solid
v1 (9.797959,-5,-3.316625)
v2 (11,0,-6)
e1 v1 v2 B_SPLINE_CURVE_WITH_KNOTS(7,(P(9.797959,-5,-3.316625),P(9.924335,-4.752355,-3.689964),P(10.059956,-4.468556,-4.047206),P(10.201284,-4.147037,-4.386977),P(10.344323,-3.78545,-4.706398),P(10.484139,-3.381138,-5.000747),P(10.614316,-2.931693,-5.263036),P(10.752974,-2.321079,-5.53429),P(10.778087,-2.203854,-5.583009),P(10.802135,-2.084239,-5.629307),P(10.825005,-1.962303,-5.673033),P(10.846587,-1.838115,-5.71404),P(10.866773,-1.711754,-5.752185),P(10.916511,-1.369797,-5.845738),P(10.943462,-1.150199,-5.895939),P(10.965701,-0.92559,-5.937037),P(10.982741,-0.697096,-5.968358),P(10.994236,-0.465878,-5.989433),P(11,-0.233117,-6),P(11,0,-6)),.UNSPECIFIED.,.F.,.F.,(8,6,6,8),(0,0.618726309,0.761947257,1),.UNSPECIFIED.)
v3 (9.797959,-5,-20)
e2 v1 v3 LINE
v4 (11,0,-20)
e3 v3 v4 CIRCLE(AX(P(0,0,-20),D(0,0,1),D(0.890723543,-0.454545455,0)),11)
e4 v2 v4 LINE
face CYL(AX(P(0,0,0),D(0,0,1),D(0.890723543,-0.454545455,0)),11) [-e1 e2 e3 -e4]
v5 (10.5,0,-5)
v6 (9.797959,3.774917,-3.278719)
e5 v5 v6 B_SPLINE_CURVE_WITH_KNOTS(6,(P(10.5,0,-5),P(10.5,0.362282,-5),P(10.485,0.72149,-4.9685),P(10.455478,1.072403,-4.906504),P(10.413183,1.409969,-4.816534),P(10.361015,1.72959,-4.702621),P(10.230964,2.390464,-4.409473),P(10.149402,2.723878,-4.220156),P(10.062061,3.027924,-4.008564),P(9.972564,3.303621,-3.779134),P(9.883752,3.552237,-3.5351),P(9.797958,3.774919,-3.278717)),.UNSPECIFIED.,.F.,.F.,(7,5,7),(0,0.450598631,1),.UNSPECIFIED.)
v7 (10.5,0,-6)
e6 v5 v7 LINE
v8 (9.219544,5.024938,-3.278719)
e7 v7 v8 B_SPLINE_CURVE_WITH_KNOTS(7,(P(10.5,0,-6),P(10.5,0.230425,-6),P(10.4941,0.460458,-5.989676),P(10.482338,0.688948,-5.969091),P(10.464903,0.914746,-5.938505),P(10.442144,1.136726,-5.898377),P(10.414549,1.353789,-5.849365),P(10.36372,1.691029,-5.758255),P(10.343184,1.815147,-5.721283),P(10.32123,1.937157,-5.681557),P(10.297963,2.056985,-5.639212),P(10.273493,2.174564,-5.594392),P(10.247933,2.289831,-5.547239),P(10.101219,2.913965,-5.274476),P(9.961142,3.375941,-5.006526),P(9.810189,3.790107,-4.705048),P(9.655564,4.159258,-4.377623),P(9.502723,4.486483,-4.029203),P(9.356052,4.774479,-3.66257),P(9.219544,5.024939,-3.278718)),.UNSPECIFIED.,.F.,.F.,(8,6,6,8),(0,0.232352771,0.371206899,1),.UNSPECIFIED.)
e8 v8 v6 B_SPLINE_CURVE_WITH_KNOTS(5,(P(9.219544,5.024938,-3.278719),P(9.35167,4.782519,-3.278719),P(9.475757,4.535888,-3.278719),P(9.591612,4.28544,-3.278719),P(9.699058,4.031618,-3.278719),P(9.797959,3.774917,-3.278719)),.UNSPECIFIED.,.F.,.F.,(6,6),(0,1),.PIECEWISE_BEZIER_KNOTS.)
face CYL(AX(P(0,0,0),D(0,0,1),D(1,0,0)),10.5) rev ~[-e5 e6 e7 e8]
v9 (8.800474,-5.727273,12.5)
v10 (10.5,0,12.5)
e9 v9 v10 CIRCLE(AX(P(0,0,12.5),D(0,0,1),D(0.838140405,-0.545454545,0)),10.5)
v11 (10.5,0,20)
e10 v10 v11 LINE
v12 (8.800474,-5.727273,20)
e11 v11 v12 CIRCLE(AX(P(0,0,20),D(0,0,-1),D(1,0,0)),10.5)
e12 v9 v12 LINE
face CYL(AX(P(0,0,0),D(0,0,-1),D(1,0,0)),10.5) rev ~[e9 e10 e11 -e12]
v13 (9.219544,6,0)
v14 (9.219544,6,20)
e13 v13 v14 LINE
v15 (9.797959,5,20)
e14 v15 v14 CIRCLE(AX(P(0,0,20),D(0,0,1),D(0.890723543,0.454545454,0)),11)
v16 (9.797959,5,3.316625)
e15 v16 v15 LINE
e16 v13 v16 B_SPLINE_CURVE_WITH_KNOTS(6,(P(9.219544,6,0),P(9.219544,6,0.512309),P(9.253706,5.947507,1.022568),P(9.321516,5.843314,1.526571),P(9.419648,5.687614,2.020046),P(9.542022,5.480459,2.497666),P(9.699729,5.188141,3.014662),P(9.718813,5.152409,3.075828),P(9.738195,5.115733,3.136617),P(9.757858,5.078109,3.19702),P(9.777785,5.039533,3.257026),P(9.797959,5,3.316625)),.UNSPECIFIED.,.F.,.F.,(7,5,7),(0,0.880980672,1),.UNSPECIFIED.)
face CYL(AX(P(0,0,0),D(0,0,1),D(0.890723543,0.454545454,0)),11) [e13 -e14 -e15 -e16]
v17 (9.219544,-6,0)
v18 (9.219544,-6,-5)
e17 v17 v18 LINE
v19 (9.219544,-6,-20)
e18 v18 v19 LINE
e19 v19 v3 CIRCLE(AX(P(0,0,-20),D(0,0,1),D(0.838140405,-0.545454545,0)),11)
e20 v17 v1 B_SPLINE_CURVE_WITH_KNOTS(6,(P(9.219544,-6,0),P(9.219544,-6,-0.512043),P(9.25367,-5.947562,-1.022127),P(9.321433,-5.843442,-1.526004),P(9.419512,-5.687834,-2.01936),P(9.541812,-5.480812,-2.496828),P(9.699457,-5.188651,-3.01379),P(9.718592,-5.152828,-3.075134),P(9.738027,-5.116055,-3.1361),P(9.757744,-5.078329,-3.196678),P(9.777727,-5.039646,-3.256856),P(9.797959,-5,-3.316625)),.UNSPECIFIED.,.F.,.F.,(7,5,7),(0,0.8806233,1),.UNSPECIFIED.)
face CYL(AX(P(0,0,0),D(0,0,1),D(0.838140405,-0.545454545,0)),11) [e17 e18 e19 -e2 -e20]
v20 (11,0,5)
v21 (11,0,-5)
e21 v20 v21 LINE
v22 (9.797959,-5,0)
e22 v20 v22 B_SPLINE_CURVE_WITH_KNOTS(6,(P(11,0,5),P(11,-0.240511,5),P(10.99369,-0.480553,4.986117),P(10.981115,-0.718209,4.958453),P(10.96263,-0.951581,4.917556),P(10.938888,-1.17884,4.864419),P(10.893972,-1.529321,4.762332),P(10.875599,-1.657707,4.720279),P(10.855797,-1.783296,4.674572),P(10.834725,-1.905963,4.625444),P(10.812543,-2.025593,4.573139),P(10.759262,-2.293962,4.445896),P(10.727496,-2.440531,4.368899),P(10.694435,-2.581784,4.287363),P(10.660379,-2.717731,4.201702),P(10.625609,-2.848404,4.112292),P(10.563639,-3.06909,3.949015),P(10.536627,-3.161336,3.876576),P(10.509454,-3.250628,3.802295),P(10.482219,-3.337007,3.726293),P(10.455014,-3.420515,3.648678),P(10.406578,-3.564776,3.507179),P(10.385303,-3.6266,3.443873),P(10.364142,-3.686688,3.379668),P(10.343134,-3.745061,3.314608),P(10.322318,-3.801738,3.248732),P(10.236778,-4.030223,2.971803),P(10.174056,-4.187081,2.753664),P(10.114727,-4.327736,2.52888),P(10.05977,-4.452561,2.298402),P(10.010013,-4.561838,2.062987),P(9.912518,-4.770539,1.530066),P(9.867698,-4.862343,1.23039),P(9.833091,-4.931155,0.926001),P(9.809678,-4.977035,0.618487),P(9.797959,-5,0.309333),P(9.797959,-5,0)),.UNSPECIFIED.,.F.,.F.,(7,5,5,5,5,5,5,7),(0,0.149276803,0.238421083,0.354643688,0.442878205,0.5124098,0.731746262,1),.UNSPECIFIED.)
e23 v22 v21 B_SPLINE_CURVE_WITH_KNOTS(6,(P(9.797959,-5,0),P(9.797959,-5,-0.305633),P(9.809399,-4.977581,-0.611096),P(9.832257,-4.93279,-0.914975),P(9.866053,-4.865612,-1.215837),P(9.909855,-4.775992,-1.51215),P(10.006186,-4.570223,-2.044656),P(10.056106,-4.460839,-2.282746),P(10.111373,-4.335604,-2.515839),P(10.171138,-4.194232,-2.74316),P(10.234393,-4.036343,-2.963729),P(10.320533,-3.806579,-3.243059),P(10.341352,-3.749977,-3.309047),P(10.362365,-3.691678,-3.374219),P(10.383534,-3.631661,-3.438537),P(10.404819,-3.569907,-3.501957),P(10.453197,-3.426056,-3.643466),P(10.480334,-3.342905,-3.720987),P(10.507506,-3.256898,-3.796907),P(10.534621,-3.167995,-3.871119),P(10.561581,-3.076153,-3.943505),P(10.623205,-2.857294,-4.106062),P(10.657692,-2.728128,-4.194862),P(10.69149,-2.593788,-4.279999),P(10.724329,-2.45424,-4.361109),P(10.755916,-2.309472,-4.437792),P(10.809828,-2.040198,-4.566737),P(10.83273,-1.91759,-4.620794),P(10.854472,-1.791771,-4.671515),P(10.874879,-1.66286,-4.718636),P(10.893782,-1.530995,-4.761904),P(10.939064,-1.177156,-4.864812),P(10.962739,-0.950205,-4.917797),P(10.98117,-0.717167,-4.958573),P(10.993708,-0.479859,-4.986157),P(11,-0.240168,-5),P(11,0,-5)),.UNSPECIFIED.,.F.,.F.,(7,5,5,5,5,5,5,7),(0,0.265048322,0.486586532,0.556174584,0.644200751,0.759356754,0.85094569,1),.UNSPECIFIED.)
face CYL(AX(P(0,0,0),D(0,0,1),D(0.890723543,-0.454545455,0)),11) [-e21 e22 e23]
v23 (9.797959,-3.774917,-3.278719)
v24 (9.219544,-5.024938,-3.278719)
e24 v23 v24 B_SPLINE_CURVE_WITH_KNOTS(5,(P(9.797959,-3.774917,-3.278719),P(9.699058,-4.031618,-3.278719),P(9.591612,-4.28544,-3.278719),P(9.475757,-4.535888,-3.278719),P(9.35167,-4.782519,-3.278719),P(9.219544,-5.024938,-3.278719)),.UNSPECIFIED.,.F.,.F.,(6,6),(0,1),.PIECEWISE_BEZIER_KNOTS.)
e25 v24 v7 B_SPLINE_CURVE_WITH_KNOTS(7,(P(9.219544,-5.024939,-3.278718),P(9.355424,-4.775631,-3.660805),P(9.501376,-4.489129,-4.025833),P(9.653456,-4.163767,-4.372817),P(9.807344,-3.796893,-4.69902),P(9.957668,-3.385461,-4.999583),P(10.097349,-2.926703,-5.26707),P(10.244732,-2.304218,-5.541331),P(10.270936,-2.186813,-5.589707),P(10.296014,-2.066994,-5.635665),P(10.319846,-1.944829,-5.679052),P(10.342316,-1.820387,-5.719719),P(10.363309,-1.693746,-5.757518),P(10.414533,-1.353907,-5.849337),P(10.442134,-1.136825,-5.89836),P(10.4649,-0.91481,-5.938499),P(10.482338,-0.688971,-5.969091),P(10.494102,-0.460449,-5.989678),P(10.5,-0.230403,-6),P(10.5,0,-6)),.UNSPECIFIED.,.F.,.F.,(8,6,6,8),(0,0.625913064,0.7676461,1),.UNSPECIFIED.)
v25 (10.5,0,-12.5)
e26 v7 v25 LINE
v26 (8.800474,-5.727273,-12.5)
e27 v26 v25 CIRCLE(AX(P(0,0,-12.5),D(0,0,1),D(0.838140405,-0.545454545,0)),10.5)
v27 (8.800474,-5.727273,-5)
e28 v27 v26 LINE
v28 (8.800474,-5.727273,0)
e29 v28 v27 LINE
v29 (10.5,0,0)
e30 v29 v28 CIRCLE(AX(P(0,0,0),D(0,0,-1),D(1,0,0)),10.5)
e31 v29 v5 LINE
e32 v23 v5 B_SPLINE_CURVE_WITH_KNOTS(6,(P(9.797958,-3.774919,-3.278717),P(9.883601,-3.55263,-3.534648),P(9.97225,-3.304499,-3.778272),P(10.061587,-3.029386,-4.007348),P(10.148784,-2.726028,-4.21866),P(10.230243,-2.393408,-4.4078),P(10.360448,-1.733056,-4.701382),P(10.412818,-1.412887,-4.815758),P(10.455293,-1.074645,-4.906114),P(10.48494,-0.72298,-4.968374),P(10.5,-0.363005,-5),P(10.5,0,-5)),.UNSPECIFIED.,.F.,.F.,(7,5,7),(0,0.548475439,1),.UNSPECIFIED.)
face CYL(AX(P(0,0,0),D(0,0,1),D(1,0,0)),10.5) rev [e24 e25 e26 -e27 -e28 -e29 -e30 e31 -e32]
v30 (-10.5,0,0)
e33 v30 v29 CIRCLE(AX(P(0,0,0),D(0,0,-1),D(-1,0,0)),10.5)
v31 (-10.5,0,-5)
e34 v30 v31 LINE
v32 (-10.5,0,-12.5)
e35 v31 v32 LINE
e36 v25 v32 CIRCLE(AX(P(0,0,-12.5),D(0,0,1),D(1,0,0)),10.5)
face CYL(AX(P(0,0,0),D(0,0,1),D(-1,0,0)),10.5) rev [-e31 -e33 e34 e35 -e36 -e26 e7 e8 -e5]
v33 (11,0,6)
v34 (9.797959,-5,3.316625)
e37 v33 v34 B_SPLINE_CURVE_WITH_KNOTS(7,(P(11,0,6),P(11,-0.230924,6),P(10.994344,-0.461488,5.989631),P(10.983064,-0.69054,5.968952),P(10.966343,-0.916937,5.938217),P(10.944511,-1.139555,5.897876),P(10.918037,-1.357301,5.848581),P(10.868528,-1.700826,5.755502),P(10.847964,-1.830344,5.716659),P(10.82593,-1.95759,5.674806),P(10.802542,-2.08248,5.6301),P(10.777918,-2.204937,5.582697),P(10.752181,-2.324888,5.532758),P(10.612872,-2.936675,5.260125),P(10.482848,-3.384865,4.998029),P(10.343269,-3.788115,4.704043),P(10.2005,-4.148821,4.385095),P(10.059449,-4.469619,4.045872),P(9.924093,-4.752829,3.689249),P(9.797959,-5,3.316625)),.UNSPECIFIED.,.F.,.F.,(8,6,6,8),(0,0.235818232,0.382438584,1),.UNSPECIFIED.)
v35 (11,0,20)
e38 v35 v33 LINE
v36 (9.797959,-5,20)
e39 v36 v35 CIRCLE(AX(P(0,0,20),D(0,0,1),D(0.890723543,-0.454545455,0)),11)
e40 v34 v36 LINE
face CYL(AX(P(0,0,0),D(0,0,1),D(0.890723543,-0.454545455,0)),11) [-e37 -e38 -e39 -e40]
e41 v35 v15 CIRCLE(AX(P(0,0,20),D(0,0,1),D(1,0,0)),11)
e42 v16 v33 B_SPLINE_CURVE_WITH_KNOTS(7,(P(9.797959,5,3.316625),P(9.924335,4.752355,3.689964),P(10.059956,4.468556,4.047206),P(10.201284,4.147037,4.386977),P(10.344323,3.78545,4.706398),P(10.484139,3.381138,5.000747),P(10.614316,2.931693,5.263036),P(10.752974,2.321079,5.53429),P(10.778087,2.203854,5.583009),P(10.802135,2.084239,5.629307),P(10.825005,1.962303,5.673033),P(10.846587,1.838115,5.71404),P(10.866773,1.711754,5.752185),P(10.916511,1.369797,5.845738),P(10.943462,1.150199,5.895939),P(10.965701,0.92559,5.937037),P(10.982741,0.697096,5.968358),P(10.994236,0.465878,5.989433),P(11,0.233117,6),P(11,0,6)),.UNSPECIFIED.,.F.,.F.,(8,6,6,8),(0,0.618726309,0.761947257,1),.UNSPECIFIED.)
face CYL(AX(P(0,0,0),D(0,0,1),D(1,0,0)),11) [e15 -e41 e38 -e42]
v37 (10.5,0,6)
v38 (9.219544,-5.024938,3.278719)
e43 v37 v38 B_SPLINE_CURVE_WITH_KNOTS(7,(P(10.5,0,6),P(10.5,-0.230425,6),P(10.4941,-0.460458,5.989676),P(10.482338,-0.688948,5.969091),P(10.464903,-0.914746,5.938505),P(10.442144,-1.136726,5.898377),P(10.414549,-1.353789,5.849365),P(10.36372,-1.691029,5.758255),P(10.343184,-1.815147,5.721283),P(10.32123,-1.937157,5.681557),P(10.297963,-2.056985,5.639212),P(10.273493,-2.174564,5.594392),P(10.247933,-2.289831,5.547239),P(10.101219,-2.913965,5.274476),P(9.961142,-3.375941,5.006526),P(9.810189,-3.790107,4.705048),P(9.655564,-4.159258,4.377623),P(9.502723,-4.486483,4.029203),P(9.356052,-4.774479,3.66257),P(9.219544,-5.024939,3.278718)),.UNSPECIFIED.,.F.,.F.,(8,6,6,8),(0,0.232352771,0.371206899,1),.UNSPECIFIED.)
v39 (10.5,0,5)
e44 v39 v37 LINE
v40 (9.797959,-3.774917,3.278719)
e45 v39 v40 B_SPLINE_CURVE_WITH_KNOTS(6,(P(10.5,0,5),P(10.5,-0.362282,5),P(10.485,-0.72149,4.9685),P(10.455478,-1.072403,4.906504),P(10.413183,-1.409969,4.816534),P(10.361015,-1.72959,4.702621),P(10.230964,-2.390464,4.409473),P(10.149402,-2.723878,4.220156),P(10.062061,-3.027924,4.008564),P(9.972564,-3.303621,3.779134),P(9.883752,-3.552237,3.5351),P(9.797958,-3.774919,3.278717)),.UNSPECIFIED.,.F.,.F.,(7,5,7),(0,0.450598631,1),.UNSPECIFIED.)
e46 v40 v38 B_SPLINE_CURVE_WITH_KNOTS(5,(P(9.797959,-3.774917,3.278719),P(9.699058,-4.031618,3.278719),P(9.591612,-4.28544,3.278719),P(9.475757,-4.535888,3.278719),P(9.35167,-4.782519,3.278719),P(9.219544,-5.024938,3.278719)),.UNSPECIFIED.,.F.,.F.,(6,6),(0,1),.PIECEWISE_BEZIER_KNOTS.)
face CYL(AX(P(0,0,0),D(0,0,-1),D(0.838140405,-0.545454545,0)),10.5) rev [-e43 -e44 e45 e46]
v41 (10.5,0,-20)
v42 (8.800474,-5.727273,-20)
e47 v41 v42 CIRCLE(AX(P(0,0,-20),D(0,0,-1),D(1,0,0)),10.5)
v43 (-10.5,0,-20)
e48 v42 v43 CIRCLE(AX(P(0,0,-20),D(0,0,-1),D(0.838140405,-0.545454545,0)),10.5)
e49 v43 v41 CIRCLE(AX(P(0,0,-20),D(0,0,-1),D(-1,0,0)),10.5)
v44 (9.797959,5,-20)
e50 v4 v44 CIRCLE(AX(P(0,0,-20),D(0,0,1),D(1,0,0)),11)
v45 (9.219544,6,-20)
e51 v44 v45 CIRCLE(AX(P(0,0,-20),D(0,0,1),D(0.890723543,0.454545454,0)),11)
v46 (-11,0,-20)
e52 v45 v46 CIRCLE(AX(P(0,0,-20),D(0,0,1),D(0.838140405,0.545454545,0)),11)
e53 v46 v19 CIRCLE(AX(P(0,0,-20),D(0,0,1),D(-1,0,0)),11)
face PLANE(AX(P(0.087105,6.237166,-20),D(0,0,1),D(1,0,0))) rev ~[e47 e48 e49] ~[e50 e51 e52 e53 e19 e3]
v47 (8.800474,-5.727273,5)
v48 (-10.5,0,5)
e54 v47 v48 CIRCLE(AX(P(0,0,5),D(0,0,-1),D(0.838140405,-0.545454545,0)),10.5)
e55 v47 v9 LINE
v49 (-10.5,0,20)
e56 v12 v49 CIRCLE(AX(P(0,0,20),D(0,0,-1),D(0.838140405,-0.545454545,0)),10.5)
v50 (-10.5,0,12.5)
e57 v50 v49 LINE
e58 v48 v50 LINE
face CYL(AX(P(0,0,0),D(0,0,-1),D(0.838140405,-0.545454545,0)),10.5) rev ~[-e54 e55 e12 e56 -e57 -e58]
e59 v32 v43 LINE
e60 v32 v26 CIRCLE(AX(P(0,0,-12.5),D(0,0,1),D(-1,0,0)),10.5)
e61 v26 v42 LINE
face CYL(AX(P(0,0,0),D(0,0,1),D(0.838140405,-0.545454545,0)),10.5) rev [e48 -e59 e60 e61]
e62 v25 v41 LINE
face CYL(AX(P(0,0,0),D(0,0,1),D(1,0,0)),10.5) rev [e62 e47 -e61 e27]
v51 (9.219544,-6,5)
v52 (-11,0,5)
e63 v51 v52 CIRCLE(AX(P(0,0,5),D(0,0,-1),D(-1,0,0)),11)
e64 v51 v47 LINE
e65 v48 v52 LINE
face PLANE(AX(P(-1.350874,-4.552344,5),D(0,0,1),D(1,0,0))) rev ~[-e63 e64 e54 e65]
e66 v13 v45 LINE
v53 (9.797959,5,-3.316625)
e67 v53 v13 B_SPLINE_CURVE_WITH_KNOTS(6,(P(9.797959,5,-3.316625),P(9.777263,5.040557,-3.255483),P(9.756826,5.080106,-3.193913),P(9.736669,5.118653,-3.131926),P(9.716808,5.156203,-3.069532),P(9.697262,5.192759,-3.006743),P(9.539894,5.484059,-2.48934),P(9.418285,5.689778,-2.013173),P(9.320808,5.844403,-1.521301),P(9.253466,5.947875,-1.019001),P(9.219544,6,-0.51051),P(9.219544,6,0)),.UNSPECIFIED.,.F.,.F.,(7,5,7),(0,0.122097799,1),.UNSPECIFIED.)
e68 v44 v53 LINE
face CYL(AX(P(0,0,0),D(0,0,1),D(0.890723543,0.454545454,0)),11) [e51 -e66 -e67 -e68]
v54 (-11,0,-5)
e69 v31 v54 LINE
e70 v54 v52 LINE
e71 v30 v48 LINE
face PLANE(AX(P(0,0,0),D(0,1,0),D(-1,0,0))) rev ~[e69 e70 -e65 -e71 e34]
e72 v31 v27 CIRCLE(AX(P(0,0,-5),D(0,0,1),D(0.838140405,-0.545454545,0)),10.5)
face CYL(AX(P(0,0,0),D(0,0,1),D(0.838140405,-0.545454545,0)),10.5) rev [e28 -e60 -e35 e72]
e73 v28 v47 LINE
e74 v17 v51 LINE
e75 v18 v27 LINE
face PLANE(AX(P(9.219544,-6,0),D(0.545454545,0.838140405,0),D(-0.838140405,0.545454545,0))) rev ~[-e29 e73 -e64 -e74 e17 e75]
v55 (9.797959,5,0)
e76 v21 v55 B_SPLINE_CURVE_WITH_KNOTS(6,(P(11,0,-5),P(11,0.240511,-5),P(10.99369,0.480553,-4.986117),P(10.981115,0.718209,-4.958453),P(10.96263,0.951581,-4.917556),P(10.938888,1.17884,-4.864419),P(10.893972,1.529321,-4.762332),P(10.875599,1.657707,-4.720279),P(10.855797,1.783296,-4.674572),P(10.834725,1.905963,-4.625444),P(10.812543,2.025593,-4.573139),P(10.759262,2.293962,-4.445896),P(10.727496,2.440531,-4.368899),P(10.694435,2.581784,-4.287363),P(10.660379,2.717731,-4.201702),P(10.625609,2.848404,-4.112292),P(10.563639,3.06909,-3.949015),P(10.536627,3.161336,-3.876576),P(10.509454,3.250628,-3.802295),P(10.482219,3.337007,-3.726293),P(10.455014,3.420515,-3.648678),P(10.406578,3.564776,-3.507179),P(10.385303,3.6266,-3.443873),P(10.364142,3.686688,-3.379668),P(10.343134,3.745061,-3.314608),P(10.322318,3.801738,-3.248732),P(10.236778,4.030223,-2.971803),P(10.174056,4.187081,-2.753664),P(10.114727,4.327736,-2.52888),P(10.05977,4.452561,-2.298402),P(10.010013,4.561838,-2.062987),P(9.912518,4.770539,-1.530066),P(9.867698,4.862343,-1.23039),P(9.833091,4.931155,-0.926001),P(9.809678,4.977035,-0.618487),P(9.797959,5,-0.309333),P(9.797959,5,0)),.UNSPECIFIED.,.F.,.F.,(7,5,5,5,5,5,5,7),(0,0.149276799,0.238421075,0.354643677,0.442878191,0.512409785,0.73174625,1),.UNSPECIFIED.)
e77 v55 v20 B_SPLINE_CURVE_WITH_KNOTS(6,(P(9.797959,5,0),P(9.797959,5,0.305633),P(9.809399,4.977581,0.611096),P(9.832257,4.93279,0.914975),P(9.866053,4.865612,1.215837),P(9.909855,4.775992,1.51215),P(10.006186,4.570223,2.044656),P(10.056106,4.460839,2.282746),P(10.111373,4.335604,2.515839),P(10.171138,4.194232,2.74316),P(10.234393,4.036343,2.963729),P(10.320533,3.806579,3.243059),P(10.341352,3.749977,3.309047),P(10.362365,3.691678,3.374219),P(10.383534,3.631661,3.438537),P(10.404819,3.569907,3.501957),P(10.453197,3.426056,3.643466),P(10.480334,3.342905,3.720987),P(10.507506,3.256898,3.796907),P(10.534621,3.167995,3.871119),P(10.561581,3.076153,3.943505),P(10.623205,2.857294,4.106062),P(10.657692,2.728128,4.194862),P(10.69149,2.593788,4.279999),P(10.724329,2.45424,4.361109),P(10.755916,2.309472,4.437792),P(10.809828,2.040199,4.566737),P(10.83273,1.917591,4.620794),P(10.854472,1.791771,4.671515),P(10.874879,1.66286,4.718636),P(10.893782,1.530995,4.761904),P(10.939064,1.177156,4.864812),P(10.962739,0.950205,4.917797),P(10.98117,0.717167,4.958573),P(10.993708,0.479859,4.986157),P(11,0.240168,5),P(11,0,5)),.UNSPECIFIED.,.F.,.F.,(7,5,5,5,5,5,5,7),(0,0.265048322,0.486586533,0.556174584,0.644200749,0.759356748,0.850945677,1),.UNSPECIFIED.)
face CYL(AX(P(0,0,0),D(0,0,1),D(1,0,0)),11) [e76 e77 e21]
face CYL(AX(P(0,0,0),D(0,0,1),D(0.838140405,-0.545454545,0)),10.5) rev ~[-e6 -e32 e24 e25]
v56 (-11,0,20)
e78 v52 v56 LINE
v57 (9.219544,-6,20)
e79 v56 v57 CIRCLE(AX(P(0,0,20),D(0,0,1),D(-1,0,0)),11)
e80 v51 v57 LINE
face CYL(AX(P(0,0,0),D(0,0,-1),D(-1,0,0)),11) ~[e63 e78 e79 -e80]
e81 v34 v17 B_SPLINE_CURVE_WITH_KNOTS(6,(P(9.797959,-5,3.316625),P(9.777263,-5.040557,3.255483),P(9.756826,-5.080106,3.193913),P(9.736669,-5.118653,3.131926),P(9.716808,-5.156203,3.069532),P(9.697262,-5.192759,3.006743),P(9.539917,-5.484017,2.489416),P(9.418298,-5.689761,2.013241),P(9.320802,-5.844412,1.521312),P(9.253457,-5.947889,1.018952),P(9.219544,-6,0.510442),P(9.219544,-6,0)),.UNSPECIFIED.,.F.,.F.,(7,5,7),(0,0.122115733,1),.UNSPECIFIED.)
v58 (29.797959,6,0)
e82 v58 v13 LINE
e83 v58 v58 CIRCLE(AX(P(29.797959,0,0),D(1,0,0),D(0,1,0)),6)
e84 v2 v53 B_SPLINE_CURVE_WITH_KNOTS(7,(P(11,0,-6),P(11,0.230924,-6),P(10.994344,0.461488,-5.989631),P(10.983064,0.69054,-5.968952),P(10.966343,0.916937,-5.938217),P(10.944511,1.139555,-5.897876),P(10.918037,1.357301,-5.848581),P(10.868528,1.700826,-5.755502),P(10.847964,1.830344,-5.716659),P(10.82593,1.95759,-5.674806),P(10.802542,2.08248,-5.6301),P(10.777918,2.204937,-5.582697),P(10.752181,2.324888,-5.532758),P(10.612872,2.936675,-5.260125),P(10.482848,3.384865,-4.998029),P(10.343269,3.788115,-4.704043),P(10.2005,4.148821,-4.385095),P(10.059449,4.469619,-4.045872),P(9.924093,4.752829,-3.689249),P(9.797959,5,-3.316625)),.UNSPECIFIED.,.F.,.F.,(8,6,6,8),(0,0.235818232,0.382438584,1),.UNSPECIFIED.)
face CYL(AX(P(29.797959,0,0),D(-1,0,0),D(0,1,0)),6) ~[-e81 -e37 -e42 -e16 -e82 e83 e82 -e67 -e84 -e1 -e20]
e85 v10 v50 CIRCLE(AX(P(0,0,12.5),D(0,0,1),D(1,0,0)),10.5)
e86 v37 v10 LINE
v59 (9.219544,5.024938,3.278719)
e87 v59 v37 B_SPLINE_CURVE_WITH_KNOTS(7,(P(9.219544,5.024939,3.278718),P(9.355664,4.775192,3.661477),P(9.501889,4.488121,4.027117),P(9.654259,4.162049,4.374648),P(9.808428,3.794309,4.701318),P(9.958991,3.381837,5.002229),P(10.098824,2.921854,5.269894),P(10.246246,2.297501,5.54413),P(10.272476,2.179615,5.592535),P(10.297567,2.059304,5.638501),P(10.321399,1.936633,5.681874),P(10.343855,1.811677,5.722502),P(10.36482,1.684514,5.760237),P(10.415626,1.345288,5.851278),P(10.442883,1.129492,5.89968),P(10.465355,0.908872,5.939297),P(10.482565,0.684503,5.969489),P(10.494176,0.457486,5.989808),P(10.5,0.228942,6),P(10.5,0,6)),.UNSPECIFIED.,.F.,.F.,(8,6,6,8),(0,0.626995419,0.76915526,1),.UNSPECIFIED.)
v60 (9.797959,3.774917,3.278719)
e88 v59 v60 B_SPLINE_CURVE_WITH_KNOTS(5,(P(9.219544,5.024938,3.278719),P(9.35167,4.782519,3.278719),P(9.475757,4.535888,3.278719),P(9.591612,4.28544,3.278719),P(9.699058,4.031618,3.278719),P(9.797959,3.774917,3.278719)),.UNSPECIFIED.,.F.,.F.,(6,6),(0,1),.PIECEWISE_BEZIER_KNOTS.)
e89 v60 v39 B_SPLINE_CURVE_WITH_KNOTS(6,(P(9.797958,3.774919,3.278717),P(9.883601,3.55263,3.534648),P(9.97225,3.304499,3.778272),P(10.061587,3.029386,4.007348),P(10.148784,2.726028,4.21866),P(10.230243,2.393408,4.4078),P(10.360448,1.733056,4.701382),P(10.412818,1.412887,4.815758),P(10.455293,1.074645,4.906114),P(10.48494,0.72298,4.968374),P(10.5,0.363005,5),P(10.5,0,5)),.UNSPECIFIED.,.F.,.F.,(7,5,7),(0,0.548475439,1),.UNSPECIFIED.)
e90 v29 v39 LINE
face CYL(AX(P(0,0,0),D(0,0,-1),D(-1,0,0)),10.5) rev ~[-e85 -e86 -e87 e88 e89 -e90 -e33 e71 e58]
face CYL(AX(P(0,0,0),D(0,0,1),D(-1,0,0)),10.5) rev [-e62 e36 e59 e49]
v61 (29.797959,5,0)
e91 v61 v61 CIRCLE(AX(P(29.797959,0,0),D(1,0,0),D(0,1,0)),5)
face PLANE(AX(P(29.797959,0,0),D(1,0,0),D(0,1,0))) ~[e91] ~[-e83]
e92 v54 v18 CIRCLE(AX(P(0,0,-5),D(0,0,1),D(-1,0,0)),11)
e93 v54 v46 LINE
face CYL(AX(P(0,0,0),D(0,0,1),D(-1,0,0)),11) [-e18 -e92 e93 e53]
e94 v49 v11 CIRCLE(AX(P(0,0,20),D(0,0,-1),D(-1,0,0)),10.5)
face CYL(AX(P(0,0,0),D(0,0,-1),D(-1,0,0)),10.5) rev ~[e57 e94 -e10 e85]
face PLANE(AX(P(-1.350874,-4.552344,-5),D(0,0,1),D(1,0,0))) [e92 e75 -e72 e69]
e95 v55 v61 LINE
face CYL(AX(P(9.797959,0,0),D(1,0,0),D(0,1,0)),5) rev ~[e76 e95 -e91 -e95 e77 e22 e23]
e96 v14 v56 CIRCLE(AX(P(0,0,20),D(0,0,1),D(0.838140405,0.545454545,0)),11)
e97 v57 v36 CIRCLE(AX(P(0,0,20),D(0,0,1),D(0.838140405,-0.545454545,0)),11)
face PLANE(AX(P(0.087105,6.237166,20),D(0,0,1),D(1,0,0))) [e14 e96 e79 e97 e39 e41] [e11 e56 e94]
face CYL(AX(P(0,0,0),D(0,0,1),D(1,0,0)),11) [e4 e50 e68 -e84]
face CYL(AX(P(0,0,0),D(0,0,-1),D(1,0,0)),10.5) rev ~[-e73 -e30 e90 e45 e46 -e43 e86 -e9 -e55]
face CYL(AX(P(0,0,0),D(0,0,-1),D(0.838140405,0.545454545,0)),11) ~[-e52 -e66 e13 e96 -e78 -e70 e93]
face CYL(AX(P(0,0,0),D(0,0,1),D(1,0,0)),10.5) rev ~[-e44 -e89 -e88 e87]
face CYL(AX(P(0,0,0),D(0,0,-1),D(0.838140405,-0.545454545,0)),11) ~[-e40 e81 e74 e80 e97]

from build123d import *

# Parameters (mm, degrees)
F1_DEPTH = 20
F2_DEPTH = 5
F4_DEPTH = 12.5


with BuildPart() as f1:
    # F0 (on Top) → F1 (new body, symmetric)
    with BuildSketch(Plane.XY):
        with BuildLine():
            Line((10.5, 0), (11, 0))
            ThreePointArc((11, 0), (10.695268783, 2.5712303784), (9.7979589711, 5))
            ThreePointArc((9.7979589711, 5), (9.5218884242, 5.5075984637), (9.2195444573, 6))
            ThreePointArc((9.2195444573, 6), (-3.129297922, 10.5454964091), (-11, 0))
            Line((-11, 0), (-10.5, 0))
            ThreePointArc((-10.5, 0), (0, 10.5), (10.5, 0))
        make_face()
        with BuildLine():
            ThreePointArc((-11, 0), (-3.129297922, -10.5454964091), (9.2195444573, -6))
            Line((9.2195444573, -6), (8.8004742547, -5.7272727273))
            ThreePointArc((8.8004742547, -5.7272727273), (-2.9870571074, -10.0661556633), (-10.5, 0))
            Line((-10.5, 0), (-11, 0))
        make_face()
        with BuildLine():
            ThreePointArc((9.7979589711, -5), (10.695268783, -2.5712303784), (11, 0))
            Line((11, 0), (10.5, 0))
            ThreePointArc((10.5, 0), (10.0661556633, -2.9870571074), (8.8004742547, -5.7272727273))
            Line((8.8004742547, -5.7272727273), (9.2195444573, -6))
            ThreePointArc((9.2195444573, -6), (9.5218884242, -5.5075984637), (9.7979589711, -5))
        make_face()
    extrude(amount=F1_DEPTH, both=True)

    # F0 (on Top) → F2 (cut, symmetric)
    with BuildSketch(Plane.XY):
        with BuildLine():
            Line((0, 0), (-10.5, 0))
            ThreePointArc((-10.5, 0), (-2.9870571074, -10.0661556633), (8.8004742547, -5.7272727273))
            Line((8.8004742547, -5.7272727273), (0, 0))
        make_face()
        with BuildLine():
            Line((11, -6), (9.2195444573, -6))
            ThreePointArc((9.2195444573, -6), (-3.129297922, -10.5454964091), (-11, 0))
            Line((-11, 0), (-11, -15))
            Line((-11, -15), (11, -15))
            Line((11, -15), (11, -6))
        make_face()
        with BuildLine():
            ThreePointArc((-11, 0), (-3.129297922, -10.5454964091), (9.2195444573, -6))
            Line((9.2195444573, -6), (8.8004742547, -5.7272727273))
            ThreePointArc((8.8004742547, -5.7272727273), (-2.9870571074, -10.0661556633), (-10.5, 0))
            Line((-10.5, 0), (-11, 0))
        make_face()
    extrude(amount=F2_DEPTH, both=True, mode=Mode.SUBTRACT)

    # F0 (on Top) → F3 (revolve)
    with BuildSketch(Plane.XY):
        with BuildLine():
            ThreePointArc((9.2195444573, 6), (9.5218884242, 5.5075984637), (9.7979589711, 5))
            Line((9.7979589711, 5), (29.7979589711, 5))
            Line((29.7979589711, 5), (29.7979589711, 6))
            Line((29.7979589711, 6), (9.2195444573, 6))
        make_face()
    revolve(axis=Axis((0, 0, 0), (1, 0, 0)))

    # F0 (on Top) → F4 (cut, symmetric)
    with BuildSketch(Plane.XY):
        with BuildLine():
            Line((0, 0), (10.5, 0))
            ThreePointArc((10.5, 0), (0, 10.5), (-10.5, 0))
            Line((-10.5, 0), (0, 0))
        make_face()
        with BuildLine():
            Line((0, 0), (-10.5, 0))
            ThreePointArc((-10.5, 0), (-2.9870571074, -10.0661556633), (8.8004742547, -5.7272727273))
            Line((8.8004742547, -5.7272727273), (0, 0))
        make_face()
        with BuildLine():
            ThreePointArc((8.8004742547, -5.7272727273), (10.0661556633, -2.9870571074), (10.5, 0))
            Line((10.5, 0), (0, 0))
            Line((0, 0), (8.8004742547, -5.7272727273))
        make_face()
    extrude(amount=F4_DEPTH, both=True, mode=Mode.SUBTRACT)


solid = f1.part
